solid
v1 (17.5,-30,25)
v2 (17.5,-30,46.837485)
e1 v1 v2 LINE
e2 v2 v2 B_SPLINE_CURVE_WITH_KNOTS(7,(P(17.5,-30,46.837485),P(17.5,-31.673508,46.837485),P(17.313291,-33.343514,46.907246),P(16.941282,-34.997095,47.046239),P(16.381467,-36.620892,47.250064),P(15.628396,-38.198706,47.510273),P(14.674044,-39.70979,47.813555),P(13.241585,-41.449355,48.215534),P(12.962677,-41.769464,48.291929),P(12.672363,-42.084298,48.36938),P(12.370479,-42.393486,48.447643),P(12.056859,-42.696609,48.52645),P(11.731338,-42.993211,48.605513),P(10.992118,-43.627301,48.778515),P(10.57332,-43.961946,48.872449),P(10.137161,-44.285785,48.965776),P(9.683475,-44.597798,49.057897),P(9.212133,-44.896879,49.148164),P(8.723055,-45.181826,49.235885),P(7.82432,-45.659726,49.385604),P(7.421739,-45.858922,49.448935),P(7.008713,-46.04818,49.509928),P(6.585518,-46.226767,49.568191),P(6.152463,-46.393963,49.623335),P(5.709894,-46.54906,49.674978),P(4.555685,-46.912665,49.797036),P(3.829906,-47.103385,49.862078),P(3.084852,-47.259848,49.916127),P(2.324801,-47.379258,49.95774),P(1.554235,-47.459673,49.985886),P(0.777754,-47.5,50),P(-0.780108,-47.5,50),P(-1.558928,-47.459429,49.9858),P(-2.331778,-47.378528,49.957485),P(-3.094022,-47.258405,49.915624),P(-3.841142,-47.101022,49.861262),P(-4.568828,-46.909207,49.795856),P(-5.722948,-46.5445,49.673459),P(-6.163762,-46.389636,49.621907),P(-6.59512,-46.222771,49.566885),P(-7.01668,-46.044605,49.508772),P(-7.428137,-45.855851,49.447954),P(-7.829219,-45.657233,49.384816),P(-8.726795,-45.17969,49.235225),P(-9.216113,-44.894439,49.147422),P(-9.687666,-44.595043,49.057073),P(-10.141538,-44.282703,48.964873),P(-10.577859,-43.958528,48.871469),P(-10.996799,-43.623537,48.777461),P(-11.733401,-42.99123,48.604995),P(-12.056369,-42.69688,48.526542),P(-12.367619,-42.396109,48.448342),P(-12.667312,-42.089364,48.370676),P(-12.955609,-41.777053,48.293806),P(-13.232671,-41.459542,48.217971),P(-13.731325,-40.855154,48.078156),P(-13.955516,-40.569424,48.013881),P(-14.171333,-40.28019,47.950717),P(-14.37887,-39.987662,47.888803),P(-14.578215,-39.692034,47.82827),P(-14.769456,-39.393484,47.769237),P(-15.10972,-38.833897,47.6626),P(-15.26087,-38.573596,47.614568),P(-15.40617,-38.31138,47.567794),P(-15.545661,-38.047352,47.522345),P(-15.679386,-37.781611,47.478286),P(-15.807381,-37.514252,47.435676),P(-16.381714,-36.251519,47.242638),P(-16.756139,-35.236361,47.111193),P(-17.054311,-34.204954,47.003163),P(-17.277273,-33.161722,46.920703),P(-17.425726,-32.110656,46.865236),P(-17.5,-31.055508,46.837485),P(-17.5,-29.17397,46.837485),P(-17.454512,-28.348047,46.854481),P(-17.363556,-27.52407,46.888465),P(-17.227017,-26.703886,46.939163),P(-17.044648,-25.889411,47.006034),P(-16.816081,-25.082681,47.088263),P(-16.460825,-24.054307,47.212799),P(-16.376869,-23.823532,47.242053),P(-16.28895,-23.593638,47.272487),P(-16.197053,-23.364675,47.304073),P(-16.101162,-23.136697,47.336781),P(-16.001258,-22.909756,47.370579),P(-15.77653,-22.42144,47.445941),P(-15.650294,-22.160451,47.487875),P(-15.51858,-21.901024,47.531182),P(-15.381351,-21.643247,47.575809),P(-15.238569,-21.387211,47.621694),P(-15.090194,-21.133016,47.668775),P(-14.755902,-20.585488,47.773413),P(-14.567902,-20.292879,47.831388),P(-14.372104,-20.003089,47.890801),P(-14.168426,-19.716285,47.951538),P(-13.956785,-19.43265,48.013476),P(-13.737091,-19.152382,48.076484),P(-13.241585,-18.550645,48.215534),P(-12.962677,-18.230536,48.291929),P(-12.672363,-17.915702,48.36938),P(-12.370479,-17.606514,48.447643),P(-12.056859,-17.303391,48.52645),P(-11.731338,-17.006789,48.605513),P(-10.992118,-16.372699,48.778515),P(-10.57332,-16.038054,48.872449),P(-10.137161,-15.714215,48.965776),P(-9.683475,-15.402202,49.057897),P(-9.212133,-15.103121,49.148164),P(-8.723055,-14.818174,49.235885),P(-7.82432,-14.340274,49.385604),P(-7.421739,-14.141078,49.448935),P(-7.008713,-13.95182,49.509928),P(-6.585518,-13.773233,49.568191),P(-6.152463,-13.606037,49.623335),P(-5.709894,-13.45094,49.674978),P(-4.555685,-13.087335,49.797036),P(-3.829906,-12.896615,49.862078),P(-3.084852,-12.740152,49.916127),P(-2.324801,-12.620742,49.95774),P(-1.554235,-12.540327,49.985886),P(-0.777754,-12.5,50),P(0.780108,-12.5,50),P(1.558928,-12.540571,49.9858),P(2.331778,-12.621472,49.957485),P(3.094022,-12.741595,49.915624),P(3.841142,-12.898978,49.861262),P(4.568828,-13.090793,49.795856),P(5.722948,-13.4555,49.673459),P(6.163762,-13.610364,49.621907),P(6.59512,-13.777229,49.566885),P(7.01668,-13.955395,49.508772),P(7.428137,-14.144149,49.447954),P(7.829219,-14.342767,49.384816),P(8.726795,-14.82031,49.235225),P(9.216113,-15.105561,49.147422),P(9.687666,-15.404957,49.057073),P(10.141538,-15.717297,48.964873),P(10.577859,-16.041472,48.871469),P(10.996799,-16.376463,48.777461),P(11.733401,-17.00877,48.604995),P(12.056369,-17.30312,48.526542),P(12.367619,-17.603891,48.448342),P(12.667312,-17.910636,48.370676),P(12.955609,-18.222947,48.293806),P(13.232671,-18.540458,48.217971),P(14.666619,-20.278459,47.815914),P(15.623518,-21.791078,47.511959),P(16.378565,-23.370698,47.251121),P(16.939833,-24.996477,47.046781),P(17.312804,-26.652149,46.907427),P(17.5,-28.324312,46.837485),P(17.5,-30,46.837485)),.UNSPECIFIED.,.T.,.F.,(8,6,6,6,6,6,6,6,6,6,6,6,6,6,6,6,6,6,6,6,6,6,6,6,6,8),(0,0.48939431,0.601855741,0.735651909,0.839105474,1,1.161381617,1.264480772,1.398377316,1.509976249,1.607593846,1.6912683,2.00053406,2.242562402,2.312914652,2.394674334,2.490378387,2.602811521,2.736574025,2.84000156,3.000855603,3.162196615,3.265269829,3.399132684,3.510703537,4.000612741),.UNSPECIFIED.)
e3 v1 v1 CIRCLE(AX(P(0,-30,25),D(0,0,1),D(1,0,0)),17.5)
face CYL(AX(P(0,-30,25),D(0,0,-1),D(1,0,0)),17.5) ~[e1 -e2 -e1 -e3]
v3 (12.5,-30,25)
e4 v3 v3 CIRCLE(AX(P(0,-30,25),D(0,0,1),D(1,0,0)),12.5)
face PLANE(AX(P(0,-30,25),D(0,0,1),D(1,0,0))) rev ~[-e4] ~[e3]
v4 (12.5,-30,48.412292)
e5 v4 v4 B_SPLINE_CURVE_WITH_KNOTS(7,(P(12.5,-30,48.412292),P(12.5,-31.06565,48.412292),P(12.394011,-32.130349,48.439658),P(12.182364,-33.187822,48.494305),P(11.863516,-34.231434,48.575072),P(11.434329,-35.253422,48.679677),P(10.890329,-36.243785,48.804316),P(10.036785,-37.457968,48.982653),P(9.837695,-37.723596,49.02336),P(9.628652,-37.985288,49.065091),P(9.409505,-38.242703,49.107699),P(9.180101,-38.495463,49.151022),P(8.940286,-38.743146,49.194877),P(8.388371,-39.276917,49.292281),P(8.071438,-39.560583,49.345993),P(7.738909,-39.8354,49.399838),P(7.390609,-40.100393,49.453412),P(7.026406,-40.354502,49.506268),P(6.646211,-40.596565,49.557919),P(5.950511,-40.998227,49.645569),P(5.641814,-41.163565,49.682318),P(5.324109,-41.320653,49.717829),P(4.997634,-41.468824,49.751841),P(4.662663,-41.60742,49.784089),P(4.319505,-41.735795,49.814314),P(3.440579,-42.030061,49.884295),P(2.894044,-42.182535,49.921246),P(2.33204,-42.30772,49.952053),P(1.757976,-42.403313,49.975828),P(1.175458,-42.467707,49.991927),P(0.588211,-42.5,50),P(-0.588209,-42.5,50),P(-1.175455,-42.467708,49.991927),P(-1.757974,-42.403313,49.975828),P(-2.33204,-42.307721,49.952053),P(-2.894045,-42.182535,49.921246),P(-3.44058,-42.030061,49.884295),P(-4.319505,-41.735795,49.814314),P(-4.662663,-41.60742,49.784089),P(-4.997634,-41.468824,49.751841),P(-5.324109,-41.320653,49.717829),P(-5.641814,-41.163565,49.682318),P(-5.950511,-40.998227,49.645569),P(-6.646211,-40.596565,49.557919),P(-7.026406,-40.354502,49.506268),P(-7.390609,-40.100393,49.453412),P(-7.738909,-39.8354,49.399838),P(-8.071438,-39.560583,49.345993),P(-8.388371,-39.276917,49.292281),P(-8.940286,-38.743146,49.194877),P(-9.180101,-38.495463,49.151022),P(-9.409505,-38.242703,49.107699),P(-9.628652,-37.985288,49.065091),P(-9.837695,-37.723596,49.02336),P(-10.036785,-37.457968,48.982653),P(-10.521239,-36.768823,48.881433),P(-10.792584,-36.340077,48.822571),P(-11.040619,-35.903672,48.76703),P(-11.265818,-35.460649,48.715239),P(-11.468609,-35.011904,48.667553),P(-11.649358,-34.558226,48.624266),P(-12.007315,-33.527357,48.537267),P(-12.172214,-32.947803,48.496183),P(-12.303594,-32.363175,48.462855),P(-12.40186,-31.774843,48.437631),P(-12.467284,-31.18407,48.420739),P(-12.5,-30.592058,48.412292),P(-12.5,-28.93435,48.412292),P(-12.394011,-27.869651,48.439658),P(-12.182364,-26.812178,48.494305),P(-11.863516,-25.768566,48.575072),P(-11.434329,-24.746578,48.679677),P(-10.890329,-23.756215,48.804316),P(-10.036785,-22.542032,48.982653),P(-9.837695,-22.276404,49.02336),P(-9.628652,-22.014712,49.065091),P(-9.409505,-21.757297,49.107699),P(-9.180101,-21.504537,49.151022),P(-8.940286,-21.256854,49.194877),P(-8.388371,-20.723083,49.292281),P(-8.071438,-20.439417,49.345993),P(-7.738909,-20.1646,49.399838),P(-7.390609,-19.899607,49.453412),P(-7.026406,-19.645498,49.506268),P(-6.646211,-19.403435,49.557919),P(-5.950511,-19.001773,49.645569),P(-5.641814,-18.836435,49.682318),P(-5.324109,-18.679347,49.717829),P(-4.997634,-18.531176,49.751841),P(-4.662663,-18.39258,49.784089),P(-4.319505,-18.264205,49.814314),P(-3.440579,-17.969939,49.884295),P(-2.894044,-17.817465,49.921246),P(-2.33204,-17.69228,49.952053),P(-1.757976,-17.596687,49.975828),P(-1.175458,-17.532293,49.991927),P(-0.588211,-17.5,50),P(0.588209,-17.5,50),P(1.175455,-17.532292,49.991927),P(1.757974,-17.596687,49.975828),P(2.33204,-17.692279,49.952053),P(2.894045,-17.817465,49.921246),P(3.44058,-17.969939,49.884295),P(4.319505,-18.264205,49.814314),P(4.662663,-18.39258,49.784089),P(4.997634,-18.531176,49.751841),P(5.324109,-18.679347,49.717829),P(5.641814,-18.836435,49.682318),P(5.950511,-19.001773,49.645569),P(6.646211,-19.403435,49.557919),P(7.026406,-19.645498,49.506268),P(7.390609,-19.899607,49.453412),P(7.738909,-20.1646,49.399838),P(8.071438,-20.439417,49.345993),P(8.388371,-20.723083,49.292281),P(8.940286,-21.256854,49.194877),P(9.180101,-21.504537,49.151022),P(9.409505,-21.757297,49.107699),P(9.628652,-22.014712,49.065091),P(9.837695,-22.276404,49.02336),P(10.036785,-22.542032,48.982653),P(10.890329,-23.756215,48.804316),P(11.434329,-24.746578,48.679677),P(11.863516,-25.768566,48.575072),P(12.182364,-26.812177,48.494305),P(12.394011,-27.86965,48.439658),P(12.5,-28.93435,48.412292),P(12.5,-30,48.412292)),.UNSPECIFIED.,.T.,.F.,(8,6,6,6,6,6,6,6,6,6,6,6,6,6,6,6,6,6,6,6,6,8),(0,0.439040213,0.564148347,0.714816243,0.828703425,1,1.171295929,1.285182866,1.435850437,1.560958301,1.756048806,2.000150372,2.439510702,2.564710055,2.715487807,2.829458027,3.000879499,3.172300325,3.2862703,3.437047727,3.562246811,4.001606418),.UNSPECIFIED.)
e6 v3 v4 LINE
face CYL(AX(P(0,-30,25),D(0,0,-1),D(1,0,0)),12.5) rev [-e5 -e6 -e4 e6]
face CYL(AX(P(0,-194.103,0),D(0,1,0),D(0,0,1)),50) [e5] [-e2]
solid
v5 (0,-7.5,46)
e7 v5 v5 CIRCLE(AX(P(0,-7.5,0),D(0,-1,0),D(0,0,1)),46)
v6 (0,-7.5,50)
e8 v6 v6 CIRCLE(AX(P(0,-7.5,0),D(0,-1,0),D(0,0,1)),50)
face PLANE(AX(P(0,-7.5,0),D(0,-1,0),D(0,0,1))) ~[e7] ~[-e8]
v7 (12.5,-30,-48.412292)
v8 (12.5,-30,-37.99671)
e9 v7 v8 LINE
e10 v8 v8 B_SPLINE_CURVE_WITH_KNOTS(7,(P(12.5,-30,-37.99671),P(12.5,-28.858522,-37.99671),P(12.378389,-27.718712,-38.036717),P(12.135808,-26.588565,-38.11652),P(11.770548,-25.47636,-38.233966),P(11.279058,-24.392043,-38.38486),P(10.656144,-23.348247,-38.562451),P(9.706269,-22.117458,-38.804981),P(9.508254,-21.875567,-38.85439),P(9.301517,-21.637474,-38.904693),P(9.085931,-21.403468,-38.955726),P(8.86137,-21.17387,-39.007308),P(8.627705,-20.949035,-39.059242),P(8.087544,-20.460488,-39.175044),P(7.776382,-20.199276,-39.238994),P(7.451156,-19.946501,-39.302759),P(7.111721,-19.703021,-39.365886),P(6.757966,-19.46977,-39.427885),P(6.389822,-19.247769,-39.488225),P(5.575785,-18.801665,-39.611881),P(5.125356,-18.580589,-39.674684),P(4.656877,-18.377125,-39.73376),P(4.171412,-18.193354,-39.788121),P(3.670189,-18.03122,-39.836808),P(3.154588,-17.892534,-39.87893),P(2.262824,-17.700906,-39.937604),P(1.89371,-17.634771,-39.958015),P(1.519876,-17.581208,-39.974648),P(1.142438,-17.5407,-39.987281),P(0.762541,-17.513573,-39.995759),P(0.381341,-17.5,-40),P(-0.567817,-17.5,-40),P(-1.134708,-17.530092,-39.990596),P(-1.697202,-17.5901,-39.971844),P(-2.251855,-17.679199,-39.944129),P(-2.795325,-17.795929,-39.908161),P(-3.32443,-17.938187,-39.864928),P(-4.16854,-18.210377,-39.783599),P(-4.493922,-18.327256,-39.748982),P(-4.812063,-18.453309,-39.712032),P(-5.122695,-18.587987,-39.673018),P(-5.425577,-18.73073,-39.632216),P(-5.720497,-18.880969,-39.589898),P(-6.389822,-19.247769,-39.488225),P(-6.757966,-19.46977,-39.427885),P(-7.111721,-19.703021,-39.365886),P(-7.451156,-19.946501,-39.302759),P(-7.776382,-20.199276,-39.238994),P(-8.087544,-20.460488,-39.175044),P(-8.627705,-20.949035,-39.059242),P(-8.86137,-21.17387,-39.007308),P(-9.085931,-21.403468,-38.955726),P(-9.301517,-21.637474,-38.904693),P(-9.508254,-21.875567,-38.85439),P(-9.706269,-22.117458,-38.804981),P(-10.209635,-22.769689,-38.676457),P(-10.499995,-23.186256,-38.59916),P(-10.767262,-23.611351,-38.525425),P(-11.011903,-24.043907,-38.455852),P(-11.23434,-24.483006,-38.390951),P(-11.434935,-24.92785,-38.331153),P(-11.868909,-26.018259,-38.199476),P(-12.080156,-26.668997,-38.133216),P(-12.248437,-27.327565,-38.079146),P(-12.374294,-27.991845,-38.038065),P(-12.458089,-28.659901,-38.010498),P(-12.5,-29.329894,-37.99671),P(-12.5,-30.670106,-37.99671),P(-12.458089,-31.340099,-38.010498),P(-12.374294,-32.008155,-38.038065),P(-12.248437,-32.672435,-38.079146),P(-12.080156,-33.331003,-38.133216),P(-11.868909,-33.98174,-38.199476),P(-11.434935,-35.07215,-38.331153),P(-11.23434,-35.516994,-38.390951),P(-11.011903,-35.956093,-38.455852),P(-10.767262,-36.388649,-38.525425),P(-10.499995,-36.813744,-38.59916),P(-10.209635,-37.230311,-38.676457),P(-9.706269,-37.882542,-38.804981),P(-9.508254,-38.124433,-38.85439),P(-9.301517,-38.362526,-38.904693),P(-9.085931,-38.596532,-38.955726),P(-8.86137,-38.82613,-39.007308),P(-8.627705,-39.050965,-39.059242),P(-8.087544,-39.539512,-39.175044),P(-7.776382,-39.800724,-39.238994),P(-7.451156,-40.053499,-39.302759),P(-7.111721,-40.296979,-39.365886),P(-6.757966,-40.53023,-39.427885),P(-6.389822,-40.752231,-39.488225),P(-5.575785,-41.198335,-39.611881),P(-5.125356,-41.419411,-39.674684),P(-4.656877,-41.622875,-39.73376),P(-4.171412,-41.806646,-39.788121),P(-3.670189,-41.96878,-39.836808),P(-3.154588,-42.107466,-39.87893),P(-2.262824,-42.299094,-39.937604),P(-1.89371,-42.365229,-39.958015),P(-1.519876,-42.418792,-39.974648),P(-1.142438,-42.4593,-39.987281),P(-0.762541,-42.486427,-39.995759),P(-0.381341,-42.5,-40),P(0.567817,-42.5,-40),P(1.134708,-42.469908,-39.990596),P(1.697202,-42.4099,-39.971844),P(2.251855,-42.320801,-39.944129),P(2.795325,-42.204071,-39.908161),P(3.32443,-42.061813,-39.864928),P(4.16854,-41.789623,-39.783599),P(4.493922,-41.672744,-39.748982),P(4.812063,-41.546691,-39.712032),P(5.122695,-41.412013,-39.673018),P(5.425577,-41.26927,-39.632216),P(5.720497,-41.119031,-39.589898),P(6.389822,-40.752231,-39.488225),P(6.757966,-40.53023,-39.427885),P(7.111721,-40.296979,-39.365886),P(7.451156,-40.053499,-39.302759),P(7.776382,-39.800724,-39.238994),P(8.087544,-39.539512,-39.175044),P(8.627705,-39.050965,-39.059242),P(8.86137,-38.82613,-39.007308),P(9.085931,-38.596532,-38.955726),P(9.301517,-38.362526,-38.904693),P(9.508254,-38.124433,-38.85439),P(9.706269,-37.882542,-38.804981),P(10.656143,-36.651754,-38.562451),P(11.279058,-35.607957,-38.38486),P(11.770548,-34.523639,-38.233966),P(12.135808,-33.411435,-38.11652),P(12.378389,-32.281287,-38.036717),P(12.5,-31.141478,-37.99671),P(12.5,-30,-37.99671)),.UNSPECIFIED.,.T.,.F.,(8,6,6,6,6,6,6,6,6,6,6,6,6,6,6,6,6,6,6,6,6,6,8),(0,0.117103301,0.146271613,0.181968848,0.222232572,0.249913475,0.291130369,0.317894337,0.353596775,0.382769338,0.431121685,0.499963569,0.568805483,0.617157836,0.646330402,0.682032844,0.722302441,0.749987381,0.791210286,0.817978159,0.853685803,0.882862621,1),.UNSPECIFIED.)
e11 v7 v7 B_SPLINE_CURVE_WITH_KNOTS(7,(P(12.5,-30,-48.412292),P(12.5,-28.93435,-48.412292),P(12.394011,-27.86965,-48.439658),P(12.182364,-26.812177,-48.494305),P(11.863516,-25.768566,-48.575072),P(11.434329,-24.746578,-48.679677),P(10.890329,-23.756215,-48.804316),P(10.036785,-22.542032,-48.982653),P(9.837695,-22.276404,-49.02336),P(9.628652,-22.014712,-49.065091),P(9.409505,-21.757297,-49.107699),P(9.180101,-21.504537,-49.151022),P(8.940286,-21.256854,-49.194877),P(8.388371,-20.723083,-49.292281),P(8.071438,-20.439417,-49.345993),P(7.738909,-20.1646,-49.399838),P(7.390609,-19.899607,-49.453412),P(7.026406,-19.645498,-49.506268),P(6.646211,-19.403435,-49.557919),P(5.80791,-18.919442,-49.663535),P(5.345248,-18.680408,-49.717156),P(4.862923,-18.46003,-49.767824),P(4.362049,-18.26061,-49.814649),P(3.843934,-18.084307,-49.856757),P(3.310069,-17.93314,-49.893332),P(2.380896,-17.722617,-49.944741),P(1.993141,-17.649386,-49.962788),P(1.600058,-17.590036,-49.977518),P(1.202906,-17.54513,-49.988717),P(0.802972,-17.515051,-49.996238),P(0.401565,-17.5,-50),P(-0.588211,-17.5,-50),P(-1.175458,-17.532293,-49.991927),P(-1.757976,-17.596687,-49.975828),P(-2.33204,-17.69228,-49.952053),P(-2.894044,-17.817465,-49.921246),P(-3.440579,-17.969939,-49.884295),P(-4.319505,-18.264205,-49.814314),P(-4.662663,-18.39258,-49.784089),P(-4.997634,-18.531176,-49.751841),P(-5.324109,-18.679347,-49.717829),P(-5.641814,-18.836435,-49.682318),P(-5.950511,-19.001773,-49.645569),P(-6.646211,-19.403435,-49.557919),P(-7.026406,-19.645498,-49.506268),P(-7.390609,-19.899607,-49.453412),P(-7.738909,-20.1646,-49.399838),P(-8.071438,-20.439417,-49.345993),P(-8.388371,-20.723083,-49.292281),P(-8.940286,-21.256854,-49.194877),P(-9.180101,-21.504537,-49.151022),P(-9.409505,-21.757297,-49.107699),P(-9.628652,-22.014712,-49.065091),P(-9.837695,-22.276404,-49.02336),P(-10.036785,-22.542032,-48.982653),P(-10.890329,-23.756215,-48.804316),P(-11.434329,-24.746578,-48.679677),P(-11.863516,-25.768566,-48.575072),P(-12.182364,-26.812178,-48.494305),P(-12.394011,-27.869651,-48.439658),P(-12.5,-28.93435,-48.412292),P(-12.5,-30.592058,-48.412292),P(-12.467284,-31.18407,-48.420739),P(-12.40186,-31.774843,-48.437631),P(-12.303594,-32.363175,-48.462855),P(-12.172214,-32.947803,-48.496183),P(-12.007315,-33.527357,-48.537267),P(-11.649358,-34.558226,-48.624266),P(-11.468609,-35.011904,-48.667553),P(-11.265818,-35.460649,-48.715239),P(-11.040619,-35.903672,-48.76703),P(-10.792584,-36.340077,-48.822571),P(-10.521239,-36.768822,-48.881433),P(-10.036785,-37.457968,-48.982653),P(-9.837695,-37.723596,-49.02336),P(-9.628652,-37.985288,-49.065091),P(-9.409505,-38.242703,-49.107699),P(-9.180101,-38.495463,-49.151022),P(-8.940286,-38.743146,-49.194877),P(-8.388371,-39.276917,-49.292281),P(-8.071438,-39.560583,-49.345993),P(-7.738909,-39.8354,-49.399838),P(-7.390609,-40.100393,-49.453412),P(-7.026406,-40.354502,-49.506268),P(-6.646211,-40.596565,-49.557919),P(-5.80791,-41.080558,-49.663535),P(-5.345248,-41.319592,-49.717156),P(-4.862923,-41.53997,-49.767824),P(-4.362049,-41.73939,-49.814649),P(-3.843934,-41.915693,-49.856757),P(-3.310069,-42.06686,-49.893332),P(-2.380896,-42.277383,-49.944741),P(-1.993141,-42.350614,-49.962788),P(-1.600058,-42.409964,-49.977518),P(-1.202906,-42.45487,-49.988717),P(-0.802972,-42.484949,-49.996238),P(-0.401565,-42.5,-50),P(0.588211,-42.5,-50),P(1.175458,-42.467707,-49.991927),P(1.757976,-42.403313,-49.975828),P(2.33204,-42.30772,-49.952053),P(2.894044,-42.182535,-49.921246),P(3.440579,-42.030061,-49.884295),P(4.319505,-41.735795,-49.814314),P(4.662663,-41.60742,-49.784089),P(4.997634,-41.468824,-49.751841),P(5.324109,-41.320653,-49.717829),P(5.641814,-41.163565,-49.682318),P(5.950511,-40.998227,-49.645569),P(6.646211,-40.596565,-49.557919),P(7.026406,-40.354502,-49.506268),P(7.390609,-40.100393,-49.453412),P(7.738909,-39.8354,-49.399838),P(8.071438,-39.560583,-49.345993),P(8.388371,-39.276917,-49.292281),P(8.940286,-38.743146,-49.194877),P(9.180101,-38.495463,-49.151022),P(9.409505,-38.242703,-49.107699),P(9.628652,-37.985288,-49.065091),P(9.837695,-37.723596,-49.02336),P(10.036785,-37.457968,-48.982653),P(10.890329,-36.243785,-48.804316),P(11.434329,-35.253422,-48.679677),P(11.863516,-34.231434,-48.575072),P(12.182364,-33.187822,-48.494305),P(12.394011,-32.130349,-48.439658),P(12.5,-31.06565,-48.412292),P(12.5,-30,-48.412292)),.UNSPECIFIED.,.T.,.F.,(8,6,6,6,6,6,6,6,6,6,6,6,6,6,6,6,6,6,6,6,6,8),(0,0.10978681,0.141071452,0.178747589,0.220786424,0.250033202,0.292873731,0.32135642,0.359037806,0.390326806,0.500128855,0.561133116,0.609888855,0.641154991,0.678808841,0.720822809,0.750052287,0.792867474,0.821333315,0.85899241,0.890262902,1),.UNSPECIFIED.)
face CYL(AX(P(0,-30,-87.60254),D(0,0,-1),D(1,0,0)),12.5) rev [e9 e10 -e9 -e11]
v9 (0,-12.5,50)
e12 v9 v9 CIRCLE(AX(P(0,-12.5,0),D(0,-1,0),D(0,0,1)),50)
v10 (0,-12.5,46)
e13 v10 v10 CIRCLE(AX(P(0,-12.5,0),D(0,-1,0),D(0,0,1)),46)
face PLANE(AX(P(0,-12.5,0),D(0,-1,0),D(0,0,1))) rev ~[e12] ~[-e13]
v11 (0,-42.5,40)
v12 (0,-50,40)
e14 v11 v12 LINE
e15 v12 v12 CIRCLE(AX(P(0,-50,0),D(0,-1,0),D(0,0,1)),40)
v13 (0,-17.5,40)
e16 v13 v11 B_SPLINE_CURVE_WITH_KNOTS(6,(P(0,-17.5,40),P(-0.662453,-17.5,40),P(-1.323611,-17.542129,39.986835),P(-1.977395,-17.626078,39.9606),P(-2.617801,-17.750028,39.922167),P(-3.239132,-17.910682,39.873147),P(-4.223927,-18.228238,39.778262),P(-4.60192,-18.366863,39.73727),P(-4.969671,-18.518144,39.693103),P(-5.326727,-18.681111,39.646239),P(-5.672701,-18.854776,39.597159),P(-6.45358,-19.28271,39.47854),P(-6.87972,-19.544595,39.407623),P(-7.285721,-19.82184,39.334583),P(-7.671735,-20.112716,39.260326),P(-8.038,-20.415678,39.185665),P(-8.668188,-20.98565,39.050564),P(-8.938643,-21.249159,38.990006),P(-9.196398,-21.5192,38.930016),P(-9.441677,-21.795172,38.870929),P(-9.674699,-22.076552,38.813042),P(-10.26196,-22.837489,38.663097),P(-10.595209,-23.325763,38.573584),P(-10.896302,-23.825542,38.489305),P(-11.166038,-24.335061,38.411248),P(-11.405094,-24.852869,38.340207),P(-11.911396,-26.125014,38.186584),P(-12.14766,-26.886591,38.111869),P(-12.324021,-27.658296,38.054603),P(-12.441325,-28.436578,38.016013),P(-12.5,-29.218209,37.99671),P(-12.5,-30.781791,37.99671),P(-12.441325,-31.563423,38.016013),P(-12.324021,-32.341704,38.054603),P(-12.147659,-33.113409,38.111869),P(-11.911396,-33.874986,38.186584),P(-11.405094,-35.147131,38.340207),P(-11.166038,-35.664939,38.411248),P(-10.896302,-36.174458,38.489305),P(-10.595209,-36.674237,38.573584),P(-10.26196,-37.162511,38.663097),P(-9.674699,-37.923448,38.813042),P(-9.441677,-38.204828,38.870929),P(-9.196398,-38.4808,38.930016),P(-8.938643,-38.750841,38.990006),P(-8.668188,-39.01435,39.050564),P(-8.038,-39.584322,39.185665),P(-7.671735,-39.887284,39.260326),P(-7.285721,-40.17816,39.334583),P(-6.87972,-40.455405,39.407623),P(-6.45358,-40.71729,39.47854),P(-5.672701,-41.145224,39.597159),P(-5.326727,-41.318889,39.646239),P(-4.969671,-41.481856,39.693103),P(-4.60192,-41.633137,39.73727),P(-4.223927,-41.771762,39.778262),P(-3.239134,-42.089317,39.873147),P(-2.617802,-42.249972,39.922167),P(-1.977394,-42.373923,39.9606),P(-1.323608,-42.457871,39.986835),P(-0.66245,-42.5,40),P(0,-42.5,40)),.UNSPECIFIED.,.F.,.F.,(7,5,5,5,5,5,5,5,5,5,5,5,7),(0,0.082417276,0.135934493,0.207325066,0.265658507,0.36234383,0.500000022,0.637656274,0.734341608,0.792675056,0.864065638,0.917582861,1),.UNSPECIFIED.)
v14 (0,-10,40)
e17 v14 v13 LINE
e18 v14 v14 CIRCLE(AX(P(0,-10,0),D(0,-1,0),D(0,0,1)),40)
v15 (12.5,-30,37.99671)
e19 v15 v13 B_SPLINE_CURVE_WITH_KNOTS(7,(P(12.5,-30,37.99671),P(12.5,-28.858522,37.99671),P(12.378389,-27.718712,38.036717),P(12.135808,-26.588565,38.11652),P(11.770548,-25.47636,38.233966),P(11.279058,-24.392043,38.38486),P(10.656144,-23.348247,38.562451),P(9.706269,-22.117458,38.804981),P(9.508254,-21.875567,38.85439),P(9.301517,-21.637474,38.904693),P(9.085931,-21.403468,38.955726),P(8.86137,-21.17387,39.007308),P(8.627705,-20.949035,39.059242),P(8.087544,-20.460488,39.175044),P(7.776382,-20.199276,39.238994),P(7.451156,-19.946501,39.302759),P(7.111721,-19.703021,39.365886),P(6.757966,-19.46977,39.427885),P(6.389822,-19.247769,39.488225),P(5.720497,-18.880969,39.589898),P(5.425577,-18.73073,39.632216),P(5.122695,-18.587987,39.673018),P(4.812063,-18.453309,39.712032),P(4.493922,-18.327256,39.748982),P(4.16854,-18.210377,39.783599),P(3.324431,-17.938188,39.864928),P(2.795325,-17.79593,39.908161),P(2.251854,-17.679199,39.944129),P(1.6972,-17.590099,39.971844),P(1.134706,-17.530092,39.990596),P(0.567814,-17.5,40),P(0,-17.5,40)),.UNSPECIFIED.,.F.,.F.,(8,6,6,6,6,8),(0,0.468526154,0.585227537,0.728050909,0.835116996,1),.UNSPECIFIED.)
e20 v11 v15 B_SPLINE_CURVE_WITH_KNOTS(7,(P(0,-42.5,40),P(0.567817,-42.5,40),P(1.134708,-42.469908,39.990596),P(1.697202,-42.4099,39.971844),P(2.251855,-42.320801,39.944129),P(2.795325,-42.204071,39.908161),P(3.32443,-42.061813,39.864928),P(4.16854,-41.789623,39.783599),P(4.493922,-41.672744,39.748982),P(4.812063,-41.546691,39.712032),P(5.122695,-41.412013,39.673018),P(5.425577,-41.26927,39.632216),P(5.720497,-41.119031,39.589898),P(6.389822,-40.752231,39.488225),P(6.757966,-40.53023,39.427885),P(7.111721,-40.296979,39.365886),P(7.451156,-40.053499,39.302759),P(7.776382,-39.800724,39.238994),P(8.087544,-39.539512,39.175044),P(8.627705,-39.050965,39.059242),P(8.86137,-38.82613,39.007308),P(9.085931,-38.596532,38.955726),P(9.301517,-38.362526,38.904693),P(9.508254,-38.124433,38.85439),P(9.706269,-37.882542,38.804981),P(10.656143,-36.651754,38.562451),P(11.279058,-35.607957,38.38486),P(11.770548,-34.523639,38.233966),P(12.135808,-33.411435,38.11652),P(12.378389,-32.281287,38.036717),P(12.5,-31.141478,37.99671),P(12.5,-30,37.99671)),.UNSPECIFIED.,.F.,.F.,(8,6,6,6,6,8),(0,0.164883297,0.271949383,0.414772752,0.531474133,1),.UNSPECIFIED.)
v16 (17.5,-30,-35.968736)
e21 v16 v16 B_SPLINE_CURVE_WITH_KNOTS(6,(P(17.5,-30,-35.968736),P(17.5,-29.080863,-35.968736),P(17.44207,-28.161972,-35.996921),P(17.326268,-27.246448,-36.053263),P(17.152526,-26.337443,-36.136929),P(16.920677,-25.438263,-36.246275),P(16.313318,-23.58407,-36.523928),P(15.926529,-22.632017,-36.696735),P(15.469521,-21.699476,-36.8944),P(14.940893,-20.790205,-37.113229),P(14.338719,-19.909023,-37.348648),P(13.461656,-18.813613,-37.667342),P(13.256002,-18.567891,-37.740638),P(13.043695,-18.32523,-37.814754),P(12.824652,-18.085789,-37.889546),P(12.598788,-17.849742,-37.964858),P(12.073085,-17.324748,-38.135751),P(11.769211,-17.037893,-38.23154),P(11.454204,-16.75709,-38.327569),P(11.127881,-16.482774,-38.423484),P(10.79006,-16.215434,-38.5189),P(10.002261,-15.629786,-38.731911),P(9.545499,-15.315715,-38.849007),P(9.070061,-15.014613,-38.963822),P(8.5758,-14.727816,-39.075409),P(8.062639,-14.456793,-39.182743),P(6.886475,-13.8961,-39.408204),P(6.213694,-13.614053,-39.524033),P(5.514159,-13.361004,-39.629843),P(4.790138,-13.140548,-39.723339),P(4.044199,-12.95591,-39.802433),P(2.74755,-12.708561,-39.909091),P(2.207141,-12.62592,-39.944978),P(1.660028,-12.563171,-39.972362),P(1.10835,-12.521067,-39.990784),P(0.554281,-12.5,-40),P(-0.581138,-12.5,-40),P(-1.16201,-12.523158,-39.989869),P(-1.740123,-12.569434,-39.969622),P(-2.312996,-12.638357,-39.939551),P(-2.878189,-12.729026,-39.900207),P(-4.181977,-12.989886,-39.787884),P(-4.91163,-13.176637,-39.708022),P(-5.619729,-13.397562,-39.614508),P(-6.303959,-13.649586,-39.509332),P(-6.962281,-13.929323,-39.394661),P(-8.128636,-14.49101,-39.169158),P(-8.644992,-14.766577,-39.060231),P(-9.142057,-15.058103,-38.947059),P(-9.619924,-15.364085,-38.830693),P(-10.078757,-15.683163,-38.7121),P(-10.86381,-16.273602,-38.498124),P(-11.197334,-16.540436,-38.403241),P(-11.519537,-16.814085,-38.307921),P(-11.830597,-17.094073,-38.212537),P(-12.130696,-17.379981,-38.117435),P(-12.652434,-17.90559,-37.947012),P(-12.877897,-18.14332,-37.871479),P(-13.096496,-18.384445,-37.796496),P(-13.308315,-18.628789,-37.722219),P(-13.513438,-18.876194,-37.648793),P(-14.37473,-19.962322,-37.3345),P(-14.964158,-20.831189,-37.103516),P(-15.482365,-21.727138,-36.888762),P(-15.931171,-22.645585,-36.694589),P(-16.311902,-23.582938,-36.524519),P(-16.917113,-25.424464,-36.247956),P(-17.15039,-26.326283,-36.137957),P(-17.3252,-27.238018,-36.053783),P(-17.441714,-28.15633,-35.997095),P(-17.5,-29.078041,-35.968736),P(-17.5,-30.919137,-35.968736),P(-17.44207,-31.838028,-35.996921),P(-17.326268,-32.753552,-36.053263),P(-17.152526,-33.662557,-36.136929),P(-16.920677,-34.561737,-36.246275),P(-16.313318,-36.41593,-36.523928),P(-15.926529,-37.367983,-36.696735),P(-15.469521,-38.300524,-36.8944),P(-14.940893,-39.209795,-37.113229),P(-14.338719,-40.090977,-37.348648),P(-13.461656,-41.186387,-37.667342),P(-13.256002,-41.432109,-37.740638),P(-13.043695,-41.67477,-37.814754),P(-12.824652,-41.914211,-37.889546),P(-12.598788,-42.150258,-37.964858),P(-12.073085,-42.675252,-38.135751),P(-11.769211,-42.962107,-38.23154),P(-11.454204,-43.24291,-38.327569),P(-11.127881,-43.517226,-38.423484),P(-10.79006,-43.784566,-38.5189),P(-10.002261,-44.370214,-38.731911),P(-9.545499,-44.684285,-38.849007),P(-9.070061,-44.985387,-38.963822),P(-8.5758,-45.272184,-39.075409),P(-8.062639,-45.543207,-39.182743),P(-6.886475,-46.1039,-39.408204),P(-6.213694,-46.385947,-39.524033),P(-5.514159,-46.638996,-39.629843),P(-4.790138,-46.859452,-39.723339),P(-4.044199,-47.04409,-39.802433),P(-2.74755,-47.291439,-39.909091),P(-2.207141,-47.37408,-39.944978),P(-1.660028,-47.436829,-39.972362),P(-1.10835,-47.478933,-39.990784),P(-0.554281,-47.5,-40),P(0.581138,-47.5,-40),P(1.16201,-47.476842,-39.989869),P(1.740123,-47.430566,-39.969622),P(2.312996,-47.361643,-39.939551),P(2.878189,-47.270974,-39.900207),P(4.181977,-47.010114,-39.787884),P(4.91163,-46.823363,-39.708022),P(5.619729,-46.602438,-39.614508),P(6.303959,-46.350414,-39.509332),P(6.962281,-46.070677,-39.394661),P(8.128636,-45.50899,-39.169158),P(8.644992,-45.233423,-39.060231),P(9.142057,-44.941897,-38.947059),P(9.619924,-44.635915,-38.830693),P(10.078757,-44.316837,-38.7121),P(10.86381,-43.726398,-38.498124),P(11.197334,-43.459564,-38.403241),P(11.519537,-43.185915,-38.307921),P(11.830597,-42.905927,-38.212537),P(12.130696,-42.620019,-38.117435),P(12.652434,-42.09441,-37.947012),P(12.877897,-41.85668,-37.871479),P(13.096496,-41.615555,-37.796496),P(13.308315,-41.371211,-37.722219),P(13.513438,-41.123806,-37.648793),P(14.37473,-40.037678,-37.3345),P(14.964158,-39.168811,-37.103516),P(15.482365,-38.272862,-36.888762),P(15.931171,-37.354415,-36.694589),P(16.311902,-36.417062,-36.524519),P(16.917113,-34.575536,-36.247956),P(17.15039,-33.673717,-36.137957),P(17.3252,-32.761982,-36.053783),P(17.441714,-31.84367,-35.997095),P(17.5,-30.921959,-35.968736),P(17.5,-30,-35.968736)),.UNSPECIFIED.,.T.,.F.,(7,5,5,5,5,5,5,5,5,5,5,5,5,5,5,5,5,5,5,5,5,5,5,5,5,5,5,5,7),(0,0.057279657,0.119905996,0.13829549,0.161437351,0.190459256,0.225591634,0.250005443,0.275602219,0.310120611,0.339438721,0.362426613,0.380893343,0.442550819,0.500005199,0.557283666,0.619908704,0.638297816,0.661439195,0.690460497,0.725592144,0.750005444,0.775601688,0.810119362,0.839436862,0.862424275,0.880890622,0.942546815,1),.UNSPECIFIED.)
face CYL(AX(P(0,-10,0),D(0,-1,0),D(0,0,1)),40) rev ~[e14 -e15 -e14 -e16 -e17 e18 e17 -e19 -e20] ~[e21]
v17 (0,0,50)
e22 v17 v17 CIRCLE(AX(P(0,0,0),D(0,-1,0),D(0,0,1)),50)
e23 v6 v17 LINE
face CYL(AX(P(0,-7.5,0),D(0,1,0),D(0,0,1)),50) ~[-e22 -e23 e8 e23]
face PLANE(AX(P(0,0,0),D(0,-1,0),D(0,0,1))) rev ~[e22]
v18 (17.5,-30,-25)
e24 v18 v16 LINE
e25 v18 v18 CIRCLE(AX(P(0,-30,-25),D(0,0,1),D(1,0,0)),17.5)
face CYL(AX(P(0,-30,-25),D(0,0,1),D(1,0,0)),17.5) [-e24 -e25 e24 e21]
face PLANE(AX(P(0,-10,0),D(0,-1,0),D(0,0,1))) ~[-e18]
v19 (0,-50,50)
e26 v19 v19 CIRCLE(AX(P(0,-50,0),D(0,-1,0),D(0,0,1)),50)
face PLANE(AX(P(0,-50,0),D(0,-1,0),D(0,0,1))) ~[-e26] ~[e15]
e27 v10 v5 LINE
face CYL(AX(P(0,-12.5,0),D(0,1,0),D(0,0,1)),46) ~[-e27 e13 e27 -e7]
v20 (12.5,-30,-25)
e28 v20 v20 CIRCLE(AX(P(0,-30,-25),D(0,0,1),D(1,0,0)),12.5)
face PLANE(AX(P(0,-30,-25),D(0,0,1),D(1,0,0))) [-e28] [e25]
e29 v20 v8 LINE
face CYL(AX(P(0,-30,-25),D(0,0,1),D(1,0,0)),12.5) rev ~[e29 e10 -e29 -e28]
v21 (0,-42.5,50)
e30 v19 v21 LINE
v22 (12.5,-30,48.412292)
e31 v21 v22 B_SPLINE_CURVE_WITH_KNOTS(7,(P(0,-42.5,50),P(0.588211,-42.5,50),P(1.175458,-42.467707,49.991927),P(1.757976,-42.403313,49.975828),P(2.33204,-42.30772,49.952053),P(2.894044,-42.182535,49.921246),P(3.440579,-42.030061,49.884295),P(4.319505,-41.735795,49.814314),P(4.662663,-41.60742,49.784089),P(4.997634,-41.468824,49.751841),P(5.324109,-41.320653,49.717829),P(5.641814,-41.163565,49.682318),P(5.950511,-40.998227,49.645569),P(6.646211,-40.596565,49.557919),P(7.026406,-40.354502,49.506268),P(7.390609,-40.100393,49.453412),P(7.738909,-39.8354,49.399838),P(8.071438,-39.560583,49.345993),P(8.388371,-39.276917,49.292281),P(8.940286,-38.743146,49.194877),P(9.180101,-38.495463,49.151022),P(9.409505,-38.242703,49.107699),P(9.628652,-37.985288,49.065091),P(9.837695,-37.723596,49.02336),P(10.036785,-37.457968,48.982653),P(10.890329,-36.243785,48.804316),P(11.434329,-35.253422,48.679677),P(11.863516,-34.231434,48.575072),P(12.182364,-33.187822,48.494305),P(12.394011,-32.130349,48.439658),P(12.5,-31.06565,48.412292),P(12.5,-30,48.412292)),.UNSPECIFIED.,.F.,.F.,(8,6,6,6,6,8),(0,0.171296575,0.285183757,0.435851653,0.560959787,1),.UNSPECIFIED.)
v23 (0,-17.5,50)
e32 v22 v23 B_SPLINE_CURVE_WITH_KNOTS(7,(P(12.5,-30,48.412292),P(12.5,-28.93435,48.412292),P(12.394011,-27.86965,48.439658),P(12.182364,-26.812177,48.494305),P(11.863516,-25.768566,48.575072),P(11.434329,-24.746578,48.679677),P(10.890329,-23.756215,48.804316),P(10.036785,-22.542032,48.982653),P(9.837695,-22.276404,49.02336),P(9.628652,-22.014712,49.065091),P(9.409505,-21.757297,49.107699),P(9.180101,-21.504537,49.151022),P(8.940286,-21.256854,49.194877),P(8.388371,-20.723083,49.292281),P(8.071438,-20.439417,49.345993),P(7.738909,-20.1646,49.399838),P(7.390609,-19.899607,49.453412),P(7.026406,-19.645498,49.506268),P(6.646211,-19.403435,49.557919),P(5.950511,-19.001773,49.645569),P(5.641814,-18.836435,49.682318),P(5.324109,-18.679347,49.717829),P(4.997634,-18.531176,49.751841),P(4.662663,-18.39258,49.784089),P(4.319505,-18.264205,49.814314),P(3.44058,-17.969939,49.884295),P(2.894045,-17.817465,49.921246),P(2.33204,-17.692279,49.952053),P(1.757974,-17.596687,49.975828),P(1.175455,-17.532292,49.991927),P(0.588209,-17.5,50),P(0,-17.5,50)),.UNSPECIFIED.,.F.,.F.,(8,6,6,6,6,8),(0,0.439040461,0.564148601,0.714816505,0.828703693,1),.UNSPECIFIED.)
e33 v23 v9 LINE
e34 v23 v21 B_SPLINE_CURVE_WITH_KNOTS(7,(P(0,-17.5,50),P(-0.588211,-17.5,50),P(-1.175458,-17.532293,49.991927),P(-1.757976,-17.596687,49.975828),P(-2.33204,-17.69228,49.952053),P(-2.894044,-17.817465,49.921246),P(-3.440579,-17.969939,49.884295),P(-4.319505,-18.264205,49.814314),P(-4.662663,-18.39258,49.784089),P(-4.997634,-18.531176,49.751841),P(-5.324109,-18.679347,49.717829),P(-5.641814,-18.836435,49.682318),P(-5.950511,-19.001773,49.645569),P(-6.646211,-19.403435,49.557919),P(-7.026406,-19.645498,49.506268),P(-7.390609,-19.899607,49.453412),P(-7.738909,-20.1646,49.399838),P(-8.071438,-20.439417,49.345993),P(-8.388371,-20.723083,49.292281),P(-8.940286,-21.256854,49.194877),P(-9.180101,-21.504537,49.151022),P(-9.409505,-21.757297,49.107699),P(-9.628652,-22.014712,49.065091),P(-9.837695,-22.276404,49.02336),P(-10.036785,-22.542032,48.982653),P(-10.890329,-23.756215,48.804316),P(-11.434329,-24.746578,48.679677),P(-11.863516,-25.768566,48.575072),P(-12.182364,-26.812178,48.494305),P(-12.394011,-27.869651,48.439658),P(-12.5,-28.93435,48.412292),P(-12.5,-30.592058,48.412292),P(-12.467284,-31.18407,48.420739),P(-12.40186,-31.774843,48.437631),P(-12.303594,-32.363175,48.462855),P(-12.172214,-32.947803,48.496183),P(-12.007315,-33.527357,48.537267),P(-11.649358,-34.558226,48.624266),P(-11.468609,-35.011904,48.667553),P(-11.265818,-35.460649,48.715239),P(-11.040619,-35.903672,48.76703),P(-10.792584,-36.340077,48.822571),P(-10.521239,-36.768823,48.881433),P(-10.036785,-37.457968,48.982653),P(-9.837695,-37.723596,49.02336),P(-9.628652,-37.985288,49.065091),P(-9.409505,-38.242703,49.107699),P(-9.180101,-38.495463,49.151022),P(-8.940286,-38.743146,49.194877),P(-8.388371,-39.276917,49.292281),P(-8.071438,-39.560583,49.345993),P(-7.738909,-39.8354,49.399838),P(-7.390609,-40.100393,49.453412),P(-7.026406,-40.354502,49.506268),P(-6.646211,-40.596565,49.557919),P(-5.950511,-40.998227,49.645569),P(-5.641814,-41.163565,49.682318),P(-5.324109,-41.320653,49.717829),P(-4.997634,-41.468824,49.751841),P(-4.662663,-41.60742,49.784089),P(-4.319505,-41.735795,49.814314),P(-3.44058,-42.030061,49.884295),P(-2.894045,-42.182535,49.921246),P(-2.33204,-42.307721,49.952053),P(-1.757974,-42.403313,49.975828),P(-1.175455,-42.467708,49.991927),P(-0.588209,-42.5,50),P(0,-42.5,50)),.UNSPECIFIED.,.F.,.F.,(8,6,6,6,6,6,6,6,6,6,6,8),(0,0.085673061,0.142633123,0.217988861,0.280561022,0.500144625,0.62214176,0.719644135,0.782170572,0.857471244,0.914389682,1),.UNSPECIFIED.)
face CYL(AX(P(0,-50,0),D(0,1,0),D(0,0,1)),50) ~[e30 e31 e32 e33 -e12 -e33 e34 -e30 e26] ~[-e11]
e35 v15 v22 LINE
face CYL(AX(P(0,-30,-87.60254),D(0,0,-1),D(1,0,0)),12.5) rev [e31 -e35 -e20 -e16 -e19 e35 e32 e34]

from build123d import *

# Parameters (mm, degrees)
ENL_V_MAT_EXTRU_1_DEPTH      = 87.602540378
ENL_V_MAT_EXTRU_1_DEPTH_BACK = 87.602540378
ESQUISSE2_R                  = 12.5
EXTRU_MINCE1_REACH           = 113.603
EXTRU_MINCE1_END_RADIUS      = 50
EXTRU_MINCE1_START           = 25
ESQUISSE2_2_R                = 17.5
ESQUISSE2_2_R_2              = 12.5
EXTRU_MINCE2_REACH           = 113.603
EXTRU_MINCE2_END_RADIUS      = 50
EXTRU_MINCE2_START           = -25
ESQUISSE2_3_R                = 17.5
ESQUISSE2_3_R_2              = 12.5


with BuildPart() as part:
    # Esquisse1 → Révolution1 (revolve)
    with BuildSketch(Plane.XY):
        Polygon((50, 0), (0, 0), (0, -10), (40, -10), (40, -50), (50, -50), (50, -12.5), (46, -12.5), (46, -7.5), (50, -7.5), align=None)
    revolve(axis=Axis((0, 0, 0), (0, -1, 0)))

    # Esquisse2 → Enlèv. mat.-Extru.1 (cut, two sides: drawn at the far end of the back side and taken through both)
    with BuildSketch(Plane.XY.offset(-ENL_V_MAT_EXTRU_1_DEPTH_BACK)):
        with Locations((0, -30)):
            Circle(ESQUISSE2_R)
    extrude(amount=ENL_V_MAT_EXTRU_1_DEPTH + ENL_V_MAT_EXTRU_1_DEPTH_BACK, mode=Mode.SUBTRACT)

    # Extru.-Mince2: up to this cylinder (the profile starts inside it)
    extru_mince2_end = Plane(origin=(0, -30, 0), z_dir=(0, 1, 0)) * Cylinder(EXTRU_MINCE2_END_RADIUS, 328.206, mode=Mode.PRIVATE)
    # Esquisse2<3> → Extru.-Mince2 (add, up to the surface)
    with BuildSketch(Plane.XY.offset(EXTRU_MINCE2_START), mode=Mode.PRIVATE) as extru_mince2_sk1:
        with Locations((0, -30)):
            Circle(ESQUISSE2_3_R)
        with Locations((0, -30)):
            Circle(ESQUISSE2_3_R_2, mode=Mode.SUBTRACT)
    extru_mince2_tool1 = extrude(extru_mince2_sk1.sketch, amount=-EXTRU_MINCE2_REACH, mode=Mode.PRIVATE) & extru_mince2_end
    add(extru_mince2_tool1.solids().sort_by_distance((-17.005025, -30, -25))[0])


with BuildPart() as body_2:
    # Extru.-Mince1: up to this cylinder (the profile starts inside it)
    extru_mince1_end = Plane(origin=(0, -30, 0), z_dir=(0, 1, 0)) * Cylinder(EXTRU_MINCE1_END_RADIUS, 328.206, mode=Mode.PRIVATE)
    # Esquisse2<2> → Extru.-Mince1 (new, up to the surface)
    with BuildSketch(Plane.XY.offset(EXTRU_MINCE1_START), mode=Mode.PRIVATE) as extru_mince1_sk1:
        with Locations((0, -30)):
            Circle(ESQUISSE2_2_R)
        with Locations((0, -30)):
            Circle(ESQUISSE2_2_R_2, mode=Mode.SUBTRACT)
    extru_mince1_tool1 = extrude(extru_mince1_sk1.sketch, amount=EXTRU_MINCE1_REACH, mode=Mode.PRIVATE) & extru_mince1_end
    add(extru_mince1_tool1.solids().sort_by_distance((-17.005025, -30, 25))[0])


solid = Compound([part.part, body_2.part])
